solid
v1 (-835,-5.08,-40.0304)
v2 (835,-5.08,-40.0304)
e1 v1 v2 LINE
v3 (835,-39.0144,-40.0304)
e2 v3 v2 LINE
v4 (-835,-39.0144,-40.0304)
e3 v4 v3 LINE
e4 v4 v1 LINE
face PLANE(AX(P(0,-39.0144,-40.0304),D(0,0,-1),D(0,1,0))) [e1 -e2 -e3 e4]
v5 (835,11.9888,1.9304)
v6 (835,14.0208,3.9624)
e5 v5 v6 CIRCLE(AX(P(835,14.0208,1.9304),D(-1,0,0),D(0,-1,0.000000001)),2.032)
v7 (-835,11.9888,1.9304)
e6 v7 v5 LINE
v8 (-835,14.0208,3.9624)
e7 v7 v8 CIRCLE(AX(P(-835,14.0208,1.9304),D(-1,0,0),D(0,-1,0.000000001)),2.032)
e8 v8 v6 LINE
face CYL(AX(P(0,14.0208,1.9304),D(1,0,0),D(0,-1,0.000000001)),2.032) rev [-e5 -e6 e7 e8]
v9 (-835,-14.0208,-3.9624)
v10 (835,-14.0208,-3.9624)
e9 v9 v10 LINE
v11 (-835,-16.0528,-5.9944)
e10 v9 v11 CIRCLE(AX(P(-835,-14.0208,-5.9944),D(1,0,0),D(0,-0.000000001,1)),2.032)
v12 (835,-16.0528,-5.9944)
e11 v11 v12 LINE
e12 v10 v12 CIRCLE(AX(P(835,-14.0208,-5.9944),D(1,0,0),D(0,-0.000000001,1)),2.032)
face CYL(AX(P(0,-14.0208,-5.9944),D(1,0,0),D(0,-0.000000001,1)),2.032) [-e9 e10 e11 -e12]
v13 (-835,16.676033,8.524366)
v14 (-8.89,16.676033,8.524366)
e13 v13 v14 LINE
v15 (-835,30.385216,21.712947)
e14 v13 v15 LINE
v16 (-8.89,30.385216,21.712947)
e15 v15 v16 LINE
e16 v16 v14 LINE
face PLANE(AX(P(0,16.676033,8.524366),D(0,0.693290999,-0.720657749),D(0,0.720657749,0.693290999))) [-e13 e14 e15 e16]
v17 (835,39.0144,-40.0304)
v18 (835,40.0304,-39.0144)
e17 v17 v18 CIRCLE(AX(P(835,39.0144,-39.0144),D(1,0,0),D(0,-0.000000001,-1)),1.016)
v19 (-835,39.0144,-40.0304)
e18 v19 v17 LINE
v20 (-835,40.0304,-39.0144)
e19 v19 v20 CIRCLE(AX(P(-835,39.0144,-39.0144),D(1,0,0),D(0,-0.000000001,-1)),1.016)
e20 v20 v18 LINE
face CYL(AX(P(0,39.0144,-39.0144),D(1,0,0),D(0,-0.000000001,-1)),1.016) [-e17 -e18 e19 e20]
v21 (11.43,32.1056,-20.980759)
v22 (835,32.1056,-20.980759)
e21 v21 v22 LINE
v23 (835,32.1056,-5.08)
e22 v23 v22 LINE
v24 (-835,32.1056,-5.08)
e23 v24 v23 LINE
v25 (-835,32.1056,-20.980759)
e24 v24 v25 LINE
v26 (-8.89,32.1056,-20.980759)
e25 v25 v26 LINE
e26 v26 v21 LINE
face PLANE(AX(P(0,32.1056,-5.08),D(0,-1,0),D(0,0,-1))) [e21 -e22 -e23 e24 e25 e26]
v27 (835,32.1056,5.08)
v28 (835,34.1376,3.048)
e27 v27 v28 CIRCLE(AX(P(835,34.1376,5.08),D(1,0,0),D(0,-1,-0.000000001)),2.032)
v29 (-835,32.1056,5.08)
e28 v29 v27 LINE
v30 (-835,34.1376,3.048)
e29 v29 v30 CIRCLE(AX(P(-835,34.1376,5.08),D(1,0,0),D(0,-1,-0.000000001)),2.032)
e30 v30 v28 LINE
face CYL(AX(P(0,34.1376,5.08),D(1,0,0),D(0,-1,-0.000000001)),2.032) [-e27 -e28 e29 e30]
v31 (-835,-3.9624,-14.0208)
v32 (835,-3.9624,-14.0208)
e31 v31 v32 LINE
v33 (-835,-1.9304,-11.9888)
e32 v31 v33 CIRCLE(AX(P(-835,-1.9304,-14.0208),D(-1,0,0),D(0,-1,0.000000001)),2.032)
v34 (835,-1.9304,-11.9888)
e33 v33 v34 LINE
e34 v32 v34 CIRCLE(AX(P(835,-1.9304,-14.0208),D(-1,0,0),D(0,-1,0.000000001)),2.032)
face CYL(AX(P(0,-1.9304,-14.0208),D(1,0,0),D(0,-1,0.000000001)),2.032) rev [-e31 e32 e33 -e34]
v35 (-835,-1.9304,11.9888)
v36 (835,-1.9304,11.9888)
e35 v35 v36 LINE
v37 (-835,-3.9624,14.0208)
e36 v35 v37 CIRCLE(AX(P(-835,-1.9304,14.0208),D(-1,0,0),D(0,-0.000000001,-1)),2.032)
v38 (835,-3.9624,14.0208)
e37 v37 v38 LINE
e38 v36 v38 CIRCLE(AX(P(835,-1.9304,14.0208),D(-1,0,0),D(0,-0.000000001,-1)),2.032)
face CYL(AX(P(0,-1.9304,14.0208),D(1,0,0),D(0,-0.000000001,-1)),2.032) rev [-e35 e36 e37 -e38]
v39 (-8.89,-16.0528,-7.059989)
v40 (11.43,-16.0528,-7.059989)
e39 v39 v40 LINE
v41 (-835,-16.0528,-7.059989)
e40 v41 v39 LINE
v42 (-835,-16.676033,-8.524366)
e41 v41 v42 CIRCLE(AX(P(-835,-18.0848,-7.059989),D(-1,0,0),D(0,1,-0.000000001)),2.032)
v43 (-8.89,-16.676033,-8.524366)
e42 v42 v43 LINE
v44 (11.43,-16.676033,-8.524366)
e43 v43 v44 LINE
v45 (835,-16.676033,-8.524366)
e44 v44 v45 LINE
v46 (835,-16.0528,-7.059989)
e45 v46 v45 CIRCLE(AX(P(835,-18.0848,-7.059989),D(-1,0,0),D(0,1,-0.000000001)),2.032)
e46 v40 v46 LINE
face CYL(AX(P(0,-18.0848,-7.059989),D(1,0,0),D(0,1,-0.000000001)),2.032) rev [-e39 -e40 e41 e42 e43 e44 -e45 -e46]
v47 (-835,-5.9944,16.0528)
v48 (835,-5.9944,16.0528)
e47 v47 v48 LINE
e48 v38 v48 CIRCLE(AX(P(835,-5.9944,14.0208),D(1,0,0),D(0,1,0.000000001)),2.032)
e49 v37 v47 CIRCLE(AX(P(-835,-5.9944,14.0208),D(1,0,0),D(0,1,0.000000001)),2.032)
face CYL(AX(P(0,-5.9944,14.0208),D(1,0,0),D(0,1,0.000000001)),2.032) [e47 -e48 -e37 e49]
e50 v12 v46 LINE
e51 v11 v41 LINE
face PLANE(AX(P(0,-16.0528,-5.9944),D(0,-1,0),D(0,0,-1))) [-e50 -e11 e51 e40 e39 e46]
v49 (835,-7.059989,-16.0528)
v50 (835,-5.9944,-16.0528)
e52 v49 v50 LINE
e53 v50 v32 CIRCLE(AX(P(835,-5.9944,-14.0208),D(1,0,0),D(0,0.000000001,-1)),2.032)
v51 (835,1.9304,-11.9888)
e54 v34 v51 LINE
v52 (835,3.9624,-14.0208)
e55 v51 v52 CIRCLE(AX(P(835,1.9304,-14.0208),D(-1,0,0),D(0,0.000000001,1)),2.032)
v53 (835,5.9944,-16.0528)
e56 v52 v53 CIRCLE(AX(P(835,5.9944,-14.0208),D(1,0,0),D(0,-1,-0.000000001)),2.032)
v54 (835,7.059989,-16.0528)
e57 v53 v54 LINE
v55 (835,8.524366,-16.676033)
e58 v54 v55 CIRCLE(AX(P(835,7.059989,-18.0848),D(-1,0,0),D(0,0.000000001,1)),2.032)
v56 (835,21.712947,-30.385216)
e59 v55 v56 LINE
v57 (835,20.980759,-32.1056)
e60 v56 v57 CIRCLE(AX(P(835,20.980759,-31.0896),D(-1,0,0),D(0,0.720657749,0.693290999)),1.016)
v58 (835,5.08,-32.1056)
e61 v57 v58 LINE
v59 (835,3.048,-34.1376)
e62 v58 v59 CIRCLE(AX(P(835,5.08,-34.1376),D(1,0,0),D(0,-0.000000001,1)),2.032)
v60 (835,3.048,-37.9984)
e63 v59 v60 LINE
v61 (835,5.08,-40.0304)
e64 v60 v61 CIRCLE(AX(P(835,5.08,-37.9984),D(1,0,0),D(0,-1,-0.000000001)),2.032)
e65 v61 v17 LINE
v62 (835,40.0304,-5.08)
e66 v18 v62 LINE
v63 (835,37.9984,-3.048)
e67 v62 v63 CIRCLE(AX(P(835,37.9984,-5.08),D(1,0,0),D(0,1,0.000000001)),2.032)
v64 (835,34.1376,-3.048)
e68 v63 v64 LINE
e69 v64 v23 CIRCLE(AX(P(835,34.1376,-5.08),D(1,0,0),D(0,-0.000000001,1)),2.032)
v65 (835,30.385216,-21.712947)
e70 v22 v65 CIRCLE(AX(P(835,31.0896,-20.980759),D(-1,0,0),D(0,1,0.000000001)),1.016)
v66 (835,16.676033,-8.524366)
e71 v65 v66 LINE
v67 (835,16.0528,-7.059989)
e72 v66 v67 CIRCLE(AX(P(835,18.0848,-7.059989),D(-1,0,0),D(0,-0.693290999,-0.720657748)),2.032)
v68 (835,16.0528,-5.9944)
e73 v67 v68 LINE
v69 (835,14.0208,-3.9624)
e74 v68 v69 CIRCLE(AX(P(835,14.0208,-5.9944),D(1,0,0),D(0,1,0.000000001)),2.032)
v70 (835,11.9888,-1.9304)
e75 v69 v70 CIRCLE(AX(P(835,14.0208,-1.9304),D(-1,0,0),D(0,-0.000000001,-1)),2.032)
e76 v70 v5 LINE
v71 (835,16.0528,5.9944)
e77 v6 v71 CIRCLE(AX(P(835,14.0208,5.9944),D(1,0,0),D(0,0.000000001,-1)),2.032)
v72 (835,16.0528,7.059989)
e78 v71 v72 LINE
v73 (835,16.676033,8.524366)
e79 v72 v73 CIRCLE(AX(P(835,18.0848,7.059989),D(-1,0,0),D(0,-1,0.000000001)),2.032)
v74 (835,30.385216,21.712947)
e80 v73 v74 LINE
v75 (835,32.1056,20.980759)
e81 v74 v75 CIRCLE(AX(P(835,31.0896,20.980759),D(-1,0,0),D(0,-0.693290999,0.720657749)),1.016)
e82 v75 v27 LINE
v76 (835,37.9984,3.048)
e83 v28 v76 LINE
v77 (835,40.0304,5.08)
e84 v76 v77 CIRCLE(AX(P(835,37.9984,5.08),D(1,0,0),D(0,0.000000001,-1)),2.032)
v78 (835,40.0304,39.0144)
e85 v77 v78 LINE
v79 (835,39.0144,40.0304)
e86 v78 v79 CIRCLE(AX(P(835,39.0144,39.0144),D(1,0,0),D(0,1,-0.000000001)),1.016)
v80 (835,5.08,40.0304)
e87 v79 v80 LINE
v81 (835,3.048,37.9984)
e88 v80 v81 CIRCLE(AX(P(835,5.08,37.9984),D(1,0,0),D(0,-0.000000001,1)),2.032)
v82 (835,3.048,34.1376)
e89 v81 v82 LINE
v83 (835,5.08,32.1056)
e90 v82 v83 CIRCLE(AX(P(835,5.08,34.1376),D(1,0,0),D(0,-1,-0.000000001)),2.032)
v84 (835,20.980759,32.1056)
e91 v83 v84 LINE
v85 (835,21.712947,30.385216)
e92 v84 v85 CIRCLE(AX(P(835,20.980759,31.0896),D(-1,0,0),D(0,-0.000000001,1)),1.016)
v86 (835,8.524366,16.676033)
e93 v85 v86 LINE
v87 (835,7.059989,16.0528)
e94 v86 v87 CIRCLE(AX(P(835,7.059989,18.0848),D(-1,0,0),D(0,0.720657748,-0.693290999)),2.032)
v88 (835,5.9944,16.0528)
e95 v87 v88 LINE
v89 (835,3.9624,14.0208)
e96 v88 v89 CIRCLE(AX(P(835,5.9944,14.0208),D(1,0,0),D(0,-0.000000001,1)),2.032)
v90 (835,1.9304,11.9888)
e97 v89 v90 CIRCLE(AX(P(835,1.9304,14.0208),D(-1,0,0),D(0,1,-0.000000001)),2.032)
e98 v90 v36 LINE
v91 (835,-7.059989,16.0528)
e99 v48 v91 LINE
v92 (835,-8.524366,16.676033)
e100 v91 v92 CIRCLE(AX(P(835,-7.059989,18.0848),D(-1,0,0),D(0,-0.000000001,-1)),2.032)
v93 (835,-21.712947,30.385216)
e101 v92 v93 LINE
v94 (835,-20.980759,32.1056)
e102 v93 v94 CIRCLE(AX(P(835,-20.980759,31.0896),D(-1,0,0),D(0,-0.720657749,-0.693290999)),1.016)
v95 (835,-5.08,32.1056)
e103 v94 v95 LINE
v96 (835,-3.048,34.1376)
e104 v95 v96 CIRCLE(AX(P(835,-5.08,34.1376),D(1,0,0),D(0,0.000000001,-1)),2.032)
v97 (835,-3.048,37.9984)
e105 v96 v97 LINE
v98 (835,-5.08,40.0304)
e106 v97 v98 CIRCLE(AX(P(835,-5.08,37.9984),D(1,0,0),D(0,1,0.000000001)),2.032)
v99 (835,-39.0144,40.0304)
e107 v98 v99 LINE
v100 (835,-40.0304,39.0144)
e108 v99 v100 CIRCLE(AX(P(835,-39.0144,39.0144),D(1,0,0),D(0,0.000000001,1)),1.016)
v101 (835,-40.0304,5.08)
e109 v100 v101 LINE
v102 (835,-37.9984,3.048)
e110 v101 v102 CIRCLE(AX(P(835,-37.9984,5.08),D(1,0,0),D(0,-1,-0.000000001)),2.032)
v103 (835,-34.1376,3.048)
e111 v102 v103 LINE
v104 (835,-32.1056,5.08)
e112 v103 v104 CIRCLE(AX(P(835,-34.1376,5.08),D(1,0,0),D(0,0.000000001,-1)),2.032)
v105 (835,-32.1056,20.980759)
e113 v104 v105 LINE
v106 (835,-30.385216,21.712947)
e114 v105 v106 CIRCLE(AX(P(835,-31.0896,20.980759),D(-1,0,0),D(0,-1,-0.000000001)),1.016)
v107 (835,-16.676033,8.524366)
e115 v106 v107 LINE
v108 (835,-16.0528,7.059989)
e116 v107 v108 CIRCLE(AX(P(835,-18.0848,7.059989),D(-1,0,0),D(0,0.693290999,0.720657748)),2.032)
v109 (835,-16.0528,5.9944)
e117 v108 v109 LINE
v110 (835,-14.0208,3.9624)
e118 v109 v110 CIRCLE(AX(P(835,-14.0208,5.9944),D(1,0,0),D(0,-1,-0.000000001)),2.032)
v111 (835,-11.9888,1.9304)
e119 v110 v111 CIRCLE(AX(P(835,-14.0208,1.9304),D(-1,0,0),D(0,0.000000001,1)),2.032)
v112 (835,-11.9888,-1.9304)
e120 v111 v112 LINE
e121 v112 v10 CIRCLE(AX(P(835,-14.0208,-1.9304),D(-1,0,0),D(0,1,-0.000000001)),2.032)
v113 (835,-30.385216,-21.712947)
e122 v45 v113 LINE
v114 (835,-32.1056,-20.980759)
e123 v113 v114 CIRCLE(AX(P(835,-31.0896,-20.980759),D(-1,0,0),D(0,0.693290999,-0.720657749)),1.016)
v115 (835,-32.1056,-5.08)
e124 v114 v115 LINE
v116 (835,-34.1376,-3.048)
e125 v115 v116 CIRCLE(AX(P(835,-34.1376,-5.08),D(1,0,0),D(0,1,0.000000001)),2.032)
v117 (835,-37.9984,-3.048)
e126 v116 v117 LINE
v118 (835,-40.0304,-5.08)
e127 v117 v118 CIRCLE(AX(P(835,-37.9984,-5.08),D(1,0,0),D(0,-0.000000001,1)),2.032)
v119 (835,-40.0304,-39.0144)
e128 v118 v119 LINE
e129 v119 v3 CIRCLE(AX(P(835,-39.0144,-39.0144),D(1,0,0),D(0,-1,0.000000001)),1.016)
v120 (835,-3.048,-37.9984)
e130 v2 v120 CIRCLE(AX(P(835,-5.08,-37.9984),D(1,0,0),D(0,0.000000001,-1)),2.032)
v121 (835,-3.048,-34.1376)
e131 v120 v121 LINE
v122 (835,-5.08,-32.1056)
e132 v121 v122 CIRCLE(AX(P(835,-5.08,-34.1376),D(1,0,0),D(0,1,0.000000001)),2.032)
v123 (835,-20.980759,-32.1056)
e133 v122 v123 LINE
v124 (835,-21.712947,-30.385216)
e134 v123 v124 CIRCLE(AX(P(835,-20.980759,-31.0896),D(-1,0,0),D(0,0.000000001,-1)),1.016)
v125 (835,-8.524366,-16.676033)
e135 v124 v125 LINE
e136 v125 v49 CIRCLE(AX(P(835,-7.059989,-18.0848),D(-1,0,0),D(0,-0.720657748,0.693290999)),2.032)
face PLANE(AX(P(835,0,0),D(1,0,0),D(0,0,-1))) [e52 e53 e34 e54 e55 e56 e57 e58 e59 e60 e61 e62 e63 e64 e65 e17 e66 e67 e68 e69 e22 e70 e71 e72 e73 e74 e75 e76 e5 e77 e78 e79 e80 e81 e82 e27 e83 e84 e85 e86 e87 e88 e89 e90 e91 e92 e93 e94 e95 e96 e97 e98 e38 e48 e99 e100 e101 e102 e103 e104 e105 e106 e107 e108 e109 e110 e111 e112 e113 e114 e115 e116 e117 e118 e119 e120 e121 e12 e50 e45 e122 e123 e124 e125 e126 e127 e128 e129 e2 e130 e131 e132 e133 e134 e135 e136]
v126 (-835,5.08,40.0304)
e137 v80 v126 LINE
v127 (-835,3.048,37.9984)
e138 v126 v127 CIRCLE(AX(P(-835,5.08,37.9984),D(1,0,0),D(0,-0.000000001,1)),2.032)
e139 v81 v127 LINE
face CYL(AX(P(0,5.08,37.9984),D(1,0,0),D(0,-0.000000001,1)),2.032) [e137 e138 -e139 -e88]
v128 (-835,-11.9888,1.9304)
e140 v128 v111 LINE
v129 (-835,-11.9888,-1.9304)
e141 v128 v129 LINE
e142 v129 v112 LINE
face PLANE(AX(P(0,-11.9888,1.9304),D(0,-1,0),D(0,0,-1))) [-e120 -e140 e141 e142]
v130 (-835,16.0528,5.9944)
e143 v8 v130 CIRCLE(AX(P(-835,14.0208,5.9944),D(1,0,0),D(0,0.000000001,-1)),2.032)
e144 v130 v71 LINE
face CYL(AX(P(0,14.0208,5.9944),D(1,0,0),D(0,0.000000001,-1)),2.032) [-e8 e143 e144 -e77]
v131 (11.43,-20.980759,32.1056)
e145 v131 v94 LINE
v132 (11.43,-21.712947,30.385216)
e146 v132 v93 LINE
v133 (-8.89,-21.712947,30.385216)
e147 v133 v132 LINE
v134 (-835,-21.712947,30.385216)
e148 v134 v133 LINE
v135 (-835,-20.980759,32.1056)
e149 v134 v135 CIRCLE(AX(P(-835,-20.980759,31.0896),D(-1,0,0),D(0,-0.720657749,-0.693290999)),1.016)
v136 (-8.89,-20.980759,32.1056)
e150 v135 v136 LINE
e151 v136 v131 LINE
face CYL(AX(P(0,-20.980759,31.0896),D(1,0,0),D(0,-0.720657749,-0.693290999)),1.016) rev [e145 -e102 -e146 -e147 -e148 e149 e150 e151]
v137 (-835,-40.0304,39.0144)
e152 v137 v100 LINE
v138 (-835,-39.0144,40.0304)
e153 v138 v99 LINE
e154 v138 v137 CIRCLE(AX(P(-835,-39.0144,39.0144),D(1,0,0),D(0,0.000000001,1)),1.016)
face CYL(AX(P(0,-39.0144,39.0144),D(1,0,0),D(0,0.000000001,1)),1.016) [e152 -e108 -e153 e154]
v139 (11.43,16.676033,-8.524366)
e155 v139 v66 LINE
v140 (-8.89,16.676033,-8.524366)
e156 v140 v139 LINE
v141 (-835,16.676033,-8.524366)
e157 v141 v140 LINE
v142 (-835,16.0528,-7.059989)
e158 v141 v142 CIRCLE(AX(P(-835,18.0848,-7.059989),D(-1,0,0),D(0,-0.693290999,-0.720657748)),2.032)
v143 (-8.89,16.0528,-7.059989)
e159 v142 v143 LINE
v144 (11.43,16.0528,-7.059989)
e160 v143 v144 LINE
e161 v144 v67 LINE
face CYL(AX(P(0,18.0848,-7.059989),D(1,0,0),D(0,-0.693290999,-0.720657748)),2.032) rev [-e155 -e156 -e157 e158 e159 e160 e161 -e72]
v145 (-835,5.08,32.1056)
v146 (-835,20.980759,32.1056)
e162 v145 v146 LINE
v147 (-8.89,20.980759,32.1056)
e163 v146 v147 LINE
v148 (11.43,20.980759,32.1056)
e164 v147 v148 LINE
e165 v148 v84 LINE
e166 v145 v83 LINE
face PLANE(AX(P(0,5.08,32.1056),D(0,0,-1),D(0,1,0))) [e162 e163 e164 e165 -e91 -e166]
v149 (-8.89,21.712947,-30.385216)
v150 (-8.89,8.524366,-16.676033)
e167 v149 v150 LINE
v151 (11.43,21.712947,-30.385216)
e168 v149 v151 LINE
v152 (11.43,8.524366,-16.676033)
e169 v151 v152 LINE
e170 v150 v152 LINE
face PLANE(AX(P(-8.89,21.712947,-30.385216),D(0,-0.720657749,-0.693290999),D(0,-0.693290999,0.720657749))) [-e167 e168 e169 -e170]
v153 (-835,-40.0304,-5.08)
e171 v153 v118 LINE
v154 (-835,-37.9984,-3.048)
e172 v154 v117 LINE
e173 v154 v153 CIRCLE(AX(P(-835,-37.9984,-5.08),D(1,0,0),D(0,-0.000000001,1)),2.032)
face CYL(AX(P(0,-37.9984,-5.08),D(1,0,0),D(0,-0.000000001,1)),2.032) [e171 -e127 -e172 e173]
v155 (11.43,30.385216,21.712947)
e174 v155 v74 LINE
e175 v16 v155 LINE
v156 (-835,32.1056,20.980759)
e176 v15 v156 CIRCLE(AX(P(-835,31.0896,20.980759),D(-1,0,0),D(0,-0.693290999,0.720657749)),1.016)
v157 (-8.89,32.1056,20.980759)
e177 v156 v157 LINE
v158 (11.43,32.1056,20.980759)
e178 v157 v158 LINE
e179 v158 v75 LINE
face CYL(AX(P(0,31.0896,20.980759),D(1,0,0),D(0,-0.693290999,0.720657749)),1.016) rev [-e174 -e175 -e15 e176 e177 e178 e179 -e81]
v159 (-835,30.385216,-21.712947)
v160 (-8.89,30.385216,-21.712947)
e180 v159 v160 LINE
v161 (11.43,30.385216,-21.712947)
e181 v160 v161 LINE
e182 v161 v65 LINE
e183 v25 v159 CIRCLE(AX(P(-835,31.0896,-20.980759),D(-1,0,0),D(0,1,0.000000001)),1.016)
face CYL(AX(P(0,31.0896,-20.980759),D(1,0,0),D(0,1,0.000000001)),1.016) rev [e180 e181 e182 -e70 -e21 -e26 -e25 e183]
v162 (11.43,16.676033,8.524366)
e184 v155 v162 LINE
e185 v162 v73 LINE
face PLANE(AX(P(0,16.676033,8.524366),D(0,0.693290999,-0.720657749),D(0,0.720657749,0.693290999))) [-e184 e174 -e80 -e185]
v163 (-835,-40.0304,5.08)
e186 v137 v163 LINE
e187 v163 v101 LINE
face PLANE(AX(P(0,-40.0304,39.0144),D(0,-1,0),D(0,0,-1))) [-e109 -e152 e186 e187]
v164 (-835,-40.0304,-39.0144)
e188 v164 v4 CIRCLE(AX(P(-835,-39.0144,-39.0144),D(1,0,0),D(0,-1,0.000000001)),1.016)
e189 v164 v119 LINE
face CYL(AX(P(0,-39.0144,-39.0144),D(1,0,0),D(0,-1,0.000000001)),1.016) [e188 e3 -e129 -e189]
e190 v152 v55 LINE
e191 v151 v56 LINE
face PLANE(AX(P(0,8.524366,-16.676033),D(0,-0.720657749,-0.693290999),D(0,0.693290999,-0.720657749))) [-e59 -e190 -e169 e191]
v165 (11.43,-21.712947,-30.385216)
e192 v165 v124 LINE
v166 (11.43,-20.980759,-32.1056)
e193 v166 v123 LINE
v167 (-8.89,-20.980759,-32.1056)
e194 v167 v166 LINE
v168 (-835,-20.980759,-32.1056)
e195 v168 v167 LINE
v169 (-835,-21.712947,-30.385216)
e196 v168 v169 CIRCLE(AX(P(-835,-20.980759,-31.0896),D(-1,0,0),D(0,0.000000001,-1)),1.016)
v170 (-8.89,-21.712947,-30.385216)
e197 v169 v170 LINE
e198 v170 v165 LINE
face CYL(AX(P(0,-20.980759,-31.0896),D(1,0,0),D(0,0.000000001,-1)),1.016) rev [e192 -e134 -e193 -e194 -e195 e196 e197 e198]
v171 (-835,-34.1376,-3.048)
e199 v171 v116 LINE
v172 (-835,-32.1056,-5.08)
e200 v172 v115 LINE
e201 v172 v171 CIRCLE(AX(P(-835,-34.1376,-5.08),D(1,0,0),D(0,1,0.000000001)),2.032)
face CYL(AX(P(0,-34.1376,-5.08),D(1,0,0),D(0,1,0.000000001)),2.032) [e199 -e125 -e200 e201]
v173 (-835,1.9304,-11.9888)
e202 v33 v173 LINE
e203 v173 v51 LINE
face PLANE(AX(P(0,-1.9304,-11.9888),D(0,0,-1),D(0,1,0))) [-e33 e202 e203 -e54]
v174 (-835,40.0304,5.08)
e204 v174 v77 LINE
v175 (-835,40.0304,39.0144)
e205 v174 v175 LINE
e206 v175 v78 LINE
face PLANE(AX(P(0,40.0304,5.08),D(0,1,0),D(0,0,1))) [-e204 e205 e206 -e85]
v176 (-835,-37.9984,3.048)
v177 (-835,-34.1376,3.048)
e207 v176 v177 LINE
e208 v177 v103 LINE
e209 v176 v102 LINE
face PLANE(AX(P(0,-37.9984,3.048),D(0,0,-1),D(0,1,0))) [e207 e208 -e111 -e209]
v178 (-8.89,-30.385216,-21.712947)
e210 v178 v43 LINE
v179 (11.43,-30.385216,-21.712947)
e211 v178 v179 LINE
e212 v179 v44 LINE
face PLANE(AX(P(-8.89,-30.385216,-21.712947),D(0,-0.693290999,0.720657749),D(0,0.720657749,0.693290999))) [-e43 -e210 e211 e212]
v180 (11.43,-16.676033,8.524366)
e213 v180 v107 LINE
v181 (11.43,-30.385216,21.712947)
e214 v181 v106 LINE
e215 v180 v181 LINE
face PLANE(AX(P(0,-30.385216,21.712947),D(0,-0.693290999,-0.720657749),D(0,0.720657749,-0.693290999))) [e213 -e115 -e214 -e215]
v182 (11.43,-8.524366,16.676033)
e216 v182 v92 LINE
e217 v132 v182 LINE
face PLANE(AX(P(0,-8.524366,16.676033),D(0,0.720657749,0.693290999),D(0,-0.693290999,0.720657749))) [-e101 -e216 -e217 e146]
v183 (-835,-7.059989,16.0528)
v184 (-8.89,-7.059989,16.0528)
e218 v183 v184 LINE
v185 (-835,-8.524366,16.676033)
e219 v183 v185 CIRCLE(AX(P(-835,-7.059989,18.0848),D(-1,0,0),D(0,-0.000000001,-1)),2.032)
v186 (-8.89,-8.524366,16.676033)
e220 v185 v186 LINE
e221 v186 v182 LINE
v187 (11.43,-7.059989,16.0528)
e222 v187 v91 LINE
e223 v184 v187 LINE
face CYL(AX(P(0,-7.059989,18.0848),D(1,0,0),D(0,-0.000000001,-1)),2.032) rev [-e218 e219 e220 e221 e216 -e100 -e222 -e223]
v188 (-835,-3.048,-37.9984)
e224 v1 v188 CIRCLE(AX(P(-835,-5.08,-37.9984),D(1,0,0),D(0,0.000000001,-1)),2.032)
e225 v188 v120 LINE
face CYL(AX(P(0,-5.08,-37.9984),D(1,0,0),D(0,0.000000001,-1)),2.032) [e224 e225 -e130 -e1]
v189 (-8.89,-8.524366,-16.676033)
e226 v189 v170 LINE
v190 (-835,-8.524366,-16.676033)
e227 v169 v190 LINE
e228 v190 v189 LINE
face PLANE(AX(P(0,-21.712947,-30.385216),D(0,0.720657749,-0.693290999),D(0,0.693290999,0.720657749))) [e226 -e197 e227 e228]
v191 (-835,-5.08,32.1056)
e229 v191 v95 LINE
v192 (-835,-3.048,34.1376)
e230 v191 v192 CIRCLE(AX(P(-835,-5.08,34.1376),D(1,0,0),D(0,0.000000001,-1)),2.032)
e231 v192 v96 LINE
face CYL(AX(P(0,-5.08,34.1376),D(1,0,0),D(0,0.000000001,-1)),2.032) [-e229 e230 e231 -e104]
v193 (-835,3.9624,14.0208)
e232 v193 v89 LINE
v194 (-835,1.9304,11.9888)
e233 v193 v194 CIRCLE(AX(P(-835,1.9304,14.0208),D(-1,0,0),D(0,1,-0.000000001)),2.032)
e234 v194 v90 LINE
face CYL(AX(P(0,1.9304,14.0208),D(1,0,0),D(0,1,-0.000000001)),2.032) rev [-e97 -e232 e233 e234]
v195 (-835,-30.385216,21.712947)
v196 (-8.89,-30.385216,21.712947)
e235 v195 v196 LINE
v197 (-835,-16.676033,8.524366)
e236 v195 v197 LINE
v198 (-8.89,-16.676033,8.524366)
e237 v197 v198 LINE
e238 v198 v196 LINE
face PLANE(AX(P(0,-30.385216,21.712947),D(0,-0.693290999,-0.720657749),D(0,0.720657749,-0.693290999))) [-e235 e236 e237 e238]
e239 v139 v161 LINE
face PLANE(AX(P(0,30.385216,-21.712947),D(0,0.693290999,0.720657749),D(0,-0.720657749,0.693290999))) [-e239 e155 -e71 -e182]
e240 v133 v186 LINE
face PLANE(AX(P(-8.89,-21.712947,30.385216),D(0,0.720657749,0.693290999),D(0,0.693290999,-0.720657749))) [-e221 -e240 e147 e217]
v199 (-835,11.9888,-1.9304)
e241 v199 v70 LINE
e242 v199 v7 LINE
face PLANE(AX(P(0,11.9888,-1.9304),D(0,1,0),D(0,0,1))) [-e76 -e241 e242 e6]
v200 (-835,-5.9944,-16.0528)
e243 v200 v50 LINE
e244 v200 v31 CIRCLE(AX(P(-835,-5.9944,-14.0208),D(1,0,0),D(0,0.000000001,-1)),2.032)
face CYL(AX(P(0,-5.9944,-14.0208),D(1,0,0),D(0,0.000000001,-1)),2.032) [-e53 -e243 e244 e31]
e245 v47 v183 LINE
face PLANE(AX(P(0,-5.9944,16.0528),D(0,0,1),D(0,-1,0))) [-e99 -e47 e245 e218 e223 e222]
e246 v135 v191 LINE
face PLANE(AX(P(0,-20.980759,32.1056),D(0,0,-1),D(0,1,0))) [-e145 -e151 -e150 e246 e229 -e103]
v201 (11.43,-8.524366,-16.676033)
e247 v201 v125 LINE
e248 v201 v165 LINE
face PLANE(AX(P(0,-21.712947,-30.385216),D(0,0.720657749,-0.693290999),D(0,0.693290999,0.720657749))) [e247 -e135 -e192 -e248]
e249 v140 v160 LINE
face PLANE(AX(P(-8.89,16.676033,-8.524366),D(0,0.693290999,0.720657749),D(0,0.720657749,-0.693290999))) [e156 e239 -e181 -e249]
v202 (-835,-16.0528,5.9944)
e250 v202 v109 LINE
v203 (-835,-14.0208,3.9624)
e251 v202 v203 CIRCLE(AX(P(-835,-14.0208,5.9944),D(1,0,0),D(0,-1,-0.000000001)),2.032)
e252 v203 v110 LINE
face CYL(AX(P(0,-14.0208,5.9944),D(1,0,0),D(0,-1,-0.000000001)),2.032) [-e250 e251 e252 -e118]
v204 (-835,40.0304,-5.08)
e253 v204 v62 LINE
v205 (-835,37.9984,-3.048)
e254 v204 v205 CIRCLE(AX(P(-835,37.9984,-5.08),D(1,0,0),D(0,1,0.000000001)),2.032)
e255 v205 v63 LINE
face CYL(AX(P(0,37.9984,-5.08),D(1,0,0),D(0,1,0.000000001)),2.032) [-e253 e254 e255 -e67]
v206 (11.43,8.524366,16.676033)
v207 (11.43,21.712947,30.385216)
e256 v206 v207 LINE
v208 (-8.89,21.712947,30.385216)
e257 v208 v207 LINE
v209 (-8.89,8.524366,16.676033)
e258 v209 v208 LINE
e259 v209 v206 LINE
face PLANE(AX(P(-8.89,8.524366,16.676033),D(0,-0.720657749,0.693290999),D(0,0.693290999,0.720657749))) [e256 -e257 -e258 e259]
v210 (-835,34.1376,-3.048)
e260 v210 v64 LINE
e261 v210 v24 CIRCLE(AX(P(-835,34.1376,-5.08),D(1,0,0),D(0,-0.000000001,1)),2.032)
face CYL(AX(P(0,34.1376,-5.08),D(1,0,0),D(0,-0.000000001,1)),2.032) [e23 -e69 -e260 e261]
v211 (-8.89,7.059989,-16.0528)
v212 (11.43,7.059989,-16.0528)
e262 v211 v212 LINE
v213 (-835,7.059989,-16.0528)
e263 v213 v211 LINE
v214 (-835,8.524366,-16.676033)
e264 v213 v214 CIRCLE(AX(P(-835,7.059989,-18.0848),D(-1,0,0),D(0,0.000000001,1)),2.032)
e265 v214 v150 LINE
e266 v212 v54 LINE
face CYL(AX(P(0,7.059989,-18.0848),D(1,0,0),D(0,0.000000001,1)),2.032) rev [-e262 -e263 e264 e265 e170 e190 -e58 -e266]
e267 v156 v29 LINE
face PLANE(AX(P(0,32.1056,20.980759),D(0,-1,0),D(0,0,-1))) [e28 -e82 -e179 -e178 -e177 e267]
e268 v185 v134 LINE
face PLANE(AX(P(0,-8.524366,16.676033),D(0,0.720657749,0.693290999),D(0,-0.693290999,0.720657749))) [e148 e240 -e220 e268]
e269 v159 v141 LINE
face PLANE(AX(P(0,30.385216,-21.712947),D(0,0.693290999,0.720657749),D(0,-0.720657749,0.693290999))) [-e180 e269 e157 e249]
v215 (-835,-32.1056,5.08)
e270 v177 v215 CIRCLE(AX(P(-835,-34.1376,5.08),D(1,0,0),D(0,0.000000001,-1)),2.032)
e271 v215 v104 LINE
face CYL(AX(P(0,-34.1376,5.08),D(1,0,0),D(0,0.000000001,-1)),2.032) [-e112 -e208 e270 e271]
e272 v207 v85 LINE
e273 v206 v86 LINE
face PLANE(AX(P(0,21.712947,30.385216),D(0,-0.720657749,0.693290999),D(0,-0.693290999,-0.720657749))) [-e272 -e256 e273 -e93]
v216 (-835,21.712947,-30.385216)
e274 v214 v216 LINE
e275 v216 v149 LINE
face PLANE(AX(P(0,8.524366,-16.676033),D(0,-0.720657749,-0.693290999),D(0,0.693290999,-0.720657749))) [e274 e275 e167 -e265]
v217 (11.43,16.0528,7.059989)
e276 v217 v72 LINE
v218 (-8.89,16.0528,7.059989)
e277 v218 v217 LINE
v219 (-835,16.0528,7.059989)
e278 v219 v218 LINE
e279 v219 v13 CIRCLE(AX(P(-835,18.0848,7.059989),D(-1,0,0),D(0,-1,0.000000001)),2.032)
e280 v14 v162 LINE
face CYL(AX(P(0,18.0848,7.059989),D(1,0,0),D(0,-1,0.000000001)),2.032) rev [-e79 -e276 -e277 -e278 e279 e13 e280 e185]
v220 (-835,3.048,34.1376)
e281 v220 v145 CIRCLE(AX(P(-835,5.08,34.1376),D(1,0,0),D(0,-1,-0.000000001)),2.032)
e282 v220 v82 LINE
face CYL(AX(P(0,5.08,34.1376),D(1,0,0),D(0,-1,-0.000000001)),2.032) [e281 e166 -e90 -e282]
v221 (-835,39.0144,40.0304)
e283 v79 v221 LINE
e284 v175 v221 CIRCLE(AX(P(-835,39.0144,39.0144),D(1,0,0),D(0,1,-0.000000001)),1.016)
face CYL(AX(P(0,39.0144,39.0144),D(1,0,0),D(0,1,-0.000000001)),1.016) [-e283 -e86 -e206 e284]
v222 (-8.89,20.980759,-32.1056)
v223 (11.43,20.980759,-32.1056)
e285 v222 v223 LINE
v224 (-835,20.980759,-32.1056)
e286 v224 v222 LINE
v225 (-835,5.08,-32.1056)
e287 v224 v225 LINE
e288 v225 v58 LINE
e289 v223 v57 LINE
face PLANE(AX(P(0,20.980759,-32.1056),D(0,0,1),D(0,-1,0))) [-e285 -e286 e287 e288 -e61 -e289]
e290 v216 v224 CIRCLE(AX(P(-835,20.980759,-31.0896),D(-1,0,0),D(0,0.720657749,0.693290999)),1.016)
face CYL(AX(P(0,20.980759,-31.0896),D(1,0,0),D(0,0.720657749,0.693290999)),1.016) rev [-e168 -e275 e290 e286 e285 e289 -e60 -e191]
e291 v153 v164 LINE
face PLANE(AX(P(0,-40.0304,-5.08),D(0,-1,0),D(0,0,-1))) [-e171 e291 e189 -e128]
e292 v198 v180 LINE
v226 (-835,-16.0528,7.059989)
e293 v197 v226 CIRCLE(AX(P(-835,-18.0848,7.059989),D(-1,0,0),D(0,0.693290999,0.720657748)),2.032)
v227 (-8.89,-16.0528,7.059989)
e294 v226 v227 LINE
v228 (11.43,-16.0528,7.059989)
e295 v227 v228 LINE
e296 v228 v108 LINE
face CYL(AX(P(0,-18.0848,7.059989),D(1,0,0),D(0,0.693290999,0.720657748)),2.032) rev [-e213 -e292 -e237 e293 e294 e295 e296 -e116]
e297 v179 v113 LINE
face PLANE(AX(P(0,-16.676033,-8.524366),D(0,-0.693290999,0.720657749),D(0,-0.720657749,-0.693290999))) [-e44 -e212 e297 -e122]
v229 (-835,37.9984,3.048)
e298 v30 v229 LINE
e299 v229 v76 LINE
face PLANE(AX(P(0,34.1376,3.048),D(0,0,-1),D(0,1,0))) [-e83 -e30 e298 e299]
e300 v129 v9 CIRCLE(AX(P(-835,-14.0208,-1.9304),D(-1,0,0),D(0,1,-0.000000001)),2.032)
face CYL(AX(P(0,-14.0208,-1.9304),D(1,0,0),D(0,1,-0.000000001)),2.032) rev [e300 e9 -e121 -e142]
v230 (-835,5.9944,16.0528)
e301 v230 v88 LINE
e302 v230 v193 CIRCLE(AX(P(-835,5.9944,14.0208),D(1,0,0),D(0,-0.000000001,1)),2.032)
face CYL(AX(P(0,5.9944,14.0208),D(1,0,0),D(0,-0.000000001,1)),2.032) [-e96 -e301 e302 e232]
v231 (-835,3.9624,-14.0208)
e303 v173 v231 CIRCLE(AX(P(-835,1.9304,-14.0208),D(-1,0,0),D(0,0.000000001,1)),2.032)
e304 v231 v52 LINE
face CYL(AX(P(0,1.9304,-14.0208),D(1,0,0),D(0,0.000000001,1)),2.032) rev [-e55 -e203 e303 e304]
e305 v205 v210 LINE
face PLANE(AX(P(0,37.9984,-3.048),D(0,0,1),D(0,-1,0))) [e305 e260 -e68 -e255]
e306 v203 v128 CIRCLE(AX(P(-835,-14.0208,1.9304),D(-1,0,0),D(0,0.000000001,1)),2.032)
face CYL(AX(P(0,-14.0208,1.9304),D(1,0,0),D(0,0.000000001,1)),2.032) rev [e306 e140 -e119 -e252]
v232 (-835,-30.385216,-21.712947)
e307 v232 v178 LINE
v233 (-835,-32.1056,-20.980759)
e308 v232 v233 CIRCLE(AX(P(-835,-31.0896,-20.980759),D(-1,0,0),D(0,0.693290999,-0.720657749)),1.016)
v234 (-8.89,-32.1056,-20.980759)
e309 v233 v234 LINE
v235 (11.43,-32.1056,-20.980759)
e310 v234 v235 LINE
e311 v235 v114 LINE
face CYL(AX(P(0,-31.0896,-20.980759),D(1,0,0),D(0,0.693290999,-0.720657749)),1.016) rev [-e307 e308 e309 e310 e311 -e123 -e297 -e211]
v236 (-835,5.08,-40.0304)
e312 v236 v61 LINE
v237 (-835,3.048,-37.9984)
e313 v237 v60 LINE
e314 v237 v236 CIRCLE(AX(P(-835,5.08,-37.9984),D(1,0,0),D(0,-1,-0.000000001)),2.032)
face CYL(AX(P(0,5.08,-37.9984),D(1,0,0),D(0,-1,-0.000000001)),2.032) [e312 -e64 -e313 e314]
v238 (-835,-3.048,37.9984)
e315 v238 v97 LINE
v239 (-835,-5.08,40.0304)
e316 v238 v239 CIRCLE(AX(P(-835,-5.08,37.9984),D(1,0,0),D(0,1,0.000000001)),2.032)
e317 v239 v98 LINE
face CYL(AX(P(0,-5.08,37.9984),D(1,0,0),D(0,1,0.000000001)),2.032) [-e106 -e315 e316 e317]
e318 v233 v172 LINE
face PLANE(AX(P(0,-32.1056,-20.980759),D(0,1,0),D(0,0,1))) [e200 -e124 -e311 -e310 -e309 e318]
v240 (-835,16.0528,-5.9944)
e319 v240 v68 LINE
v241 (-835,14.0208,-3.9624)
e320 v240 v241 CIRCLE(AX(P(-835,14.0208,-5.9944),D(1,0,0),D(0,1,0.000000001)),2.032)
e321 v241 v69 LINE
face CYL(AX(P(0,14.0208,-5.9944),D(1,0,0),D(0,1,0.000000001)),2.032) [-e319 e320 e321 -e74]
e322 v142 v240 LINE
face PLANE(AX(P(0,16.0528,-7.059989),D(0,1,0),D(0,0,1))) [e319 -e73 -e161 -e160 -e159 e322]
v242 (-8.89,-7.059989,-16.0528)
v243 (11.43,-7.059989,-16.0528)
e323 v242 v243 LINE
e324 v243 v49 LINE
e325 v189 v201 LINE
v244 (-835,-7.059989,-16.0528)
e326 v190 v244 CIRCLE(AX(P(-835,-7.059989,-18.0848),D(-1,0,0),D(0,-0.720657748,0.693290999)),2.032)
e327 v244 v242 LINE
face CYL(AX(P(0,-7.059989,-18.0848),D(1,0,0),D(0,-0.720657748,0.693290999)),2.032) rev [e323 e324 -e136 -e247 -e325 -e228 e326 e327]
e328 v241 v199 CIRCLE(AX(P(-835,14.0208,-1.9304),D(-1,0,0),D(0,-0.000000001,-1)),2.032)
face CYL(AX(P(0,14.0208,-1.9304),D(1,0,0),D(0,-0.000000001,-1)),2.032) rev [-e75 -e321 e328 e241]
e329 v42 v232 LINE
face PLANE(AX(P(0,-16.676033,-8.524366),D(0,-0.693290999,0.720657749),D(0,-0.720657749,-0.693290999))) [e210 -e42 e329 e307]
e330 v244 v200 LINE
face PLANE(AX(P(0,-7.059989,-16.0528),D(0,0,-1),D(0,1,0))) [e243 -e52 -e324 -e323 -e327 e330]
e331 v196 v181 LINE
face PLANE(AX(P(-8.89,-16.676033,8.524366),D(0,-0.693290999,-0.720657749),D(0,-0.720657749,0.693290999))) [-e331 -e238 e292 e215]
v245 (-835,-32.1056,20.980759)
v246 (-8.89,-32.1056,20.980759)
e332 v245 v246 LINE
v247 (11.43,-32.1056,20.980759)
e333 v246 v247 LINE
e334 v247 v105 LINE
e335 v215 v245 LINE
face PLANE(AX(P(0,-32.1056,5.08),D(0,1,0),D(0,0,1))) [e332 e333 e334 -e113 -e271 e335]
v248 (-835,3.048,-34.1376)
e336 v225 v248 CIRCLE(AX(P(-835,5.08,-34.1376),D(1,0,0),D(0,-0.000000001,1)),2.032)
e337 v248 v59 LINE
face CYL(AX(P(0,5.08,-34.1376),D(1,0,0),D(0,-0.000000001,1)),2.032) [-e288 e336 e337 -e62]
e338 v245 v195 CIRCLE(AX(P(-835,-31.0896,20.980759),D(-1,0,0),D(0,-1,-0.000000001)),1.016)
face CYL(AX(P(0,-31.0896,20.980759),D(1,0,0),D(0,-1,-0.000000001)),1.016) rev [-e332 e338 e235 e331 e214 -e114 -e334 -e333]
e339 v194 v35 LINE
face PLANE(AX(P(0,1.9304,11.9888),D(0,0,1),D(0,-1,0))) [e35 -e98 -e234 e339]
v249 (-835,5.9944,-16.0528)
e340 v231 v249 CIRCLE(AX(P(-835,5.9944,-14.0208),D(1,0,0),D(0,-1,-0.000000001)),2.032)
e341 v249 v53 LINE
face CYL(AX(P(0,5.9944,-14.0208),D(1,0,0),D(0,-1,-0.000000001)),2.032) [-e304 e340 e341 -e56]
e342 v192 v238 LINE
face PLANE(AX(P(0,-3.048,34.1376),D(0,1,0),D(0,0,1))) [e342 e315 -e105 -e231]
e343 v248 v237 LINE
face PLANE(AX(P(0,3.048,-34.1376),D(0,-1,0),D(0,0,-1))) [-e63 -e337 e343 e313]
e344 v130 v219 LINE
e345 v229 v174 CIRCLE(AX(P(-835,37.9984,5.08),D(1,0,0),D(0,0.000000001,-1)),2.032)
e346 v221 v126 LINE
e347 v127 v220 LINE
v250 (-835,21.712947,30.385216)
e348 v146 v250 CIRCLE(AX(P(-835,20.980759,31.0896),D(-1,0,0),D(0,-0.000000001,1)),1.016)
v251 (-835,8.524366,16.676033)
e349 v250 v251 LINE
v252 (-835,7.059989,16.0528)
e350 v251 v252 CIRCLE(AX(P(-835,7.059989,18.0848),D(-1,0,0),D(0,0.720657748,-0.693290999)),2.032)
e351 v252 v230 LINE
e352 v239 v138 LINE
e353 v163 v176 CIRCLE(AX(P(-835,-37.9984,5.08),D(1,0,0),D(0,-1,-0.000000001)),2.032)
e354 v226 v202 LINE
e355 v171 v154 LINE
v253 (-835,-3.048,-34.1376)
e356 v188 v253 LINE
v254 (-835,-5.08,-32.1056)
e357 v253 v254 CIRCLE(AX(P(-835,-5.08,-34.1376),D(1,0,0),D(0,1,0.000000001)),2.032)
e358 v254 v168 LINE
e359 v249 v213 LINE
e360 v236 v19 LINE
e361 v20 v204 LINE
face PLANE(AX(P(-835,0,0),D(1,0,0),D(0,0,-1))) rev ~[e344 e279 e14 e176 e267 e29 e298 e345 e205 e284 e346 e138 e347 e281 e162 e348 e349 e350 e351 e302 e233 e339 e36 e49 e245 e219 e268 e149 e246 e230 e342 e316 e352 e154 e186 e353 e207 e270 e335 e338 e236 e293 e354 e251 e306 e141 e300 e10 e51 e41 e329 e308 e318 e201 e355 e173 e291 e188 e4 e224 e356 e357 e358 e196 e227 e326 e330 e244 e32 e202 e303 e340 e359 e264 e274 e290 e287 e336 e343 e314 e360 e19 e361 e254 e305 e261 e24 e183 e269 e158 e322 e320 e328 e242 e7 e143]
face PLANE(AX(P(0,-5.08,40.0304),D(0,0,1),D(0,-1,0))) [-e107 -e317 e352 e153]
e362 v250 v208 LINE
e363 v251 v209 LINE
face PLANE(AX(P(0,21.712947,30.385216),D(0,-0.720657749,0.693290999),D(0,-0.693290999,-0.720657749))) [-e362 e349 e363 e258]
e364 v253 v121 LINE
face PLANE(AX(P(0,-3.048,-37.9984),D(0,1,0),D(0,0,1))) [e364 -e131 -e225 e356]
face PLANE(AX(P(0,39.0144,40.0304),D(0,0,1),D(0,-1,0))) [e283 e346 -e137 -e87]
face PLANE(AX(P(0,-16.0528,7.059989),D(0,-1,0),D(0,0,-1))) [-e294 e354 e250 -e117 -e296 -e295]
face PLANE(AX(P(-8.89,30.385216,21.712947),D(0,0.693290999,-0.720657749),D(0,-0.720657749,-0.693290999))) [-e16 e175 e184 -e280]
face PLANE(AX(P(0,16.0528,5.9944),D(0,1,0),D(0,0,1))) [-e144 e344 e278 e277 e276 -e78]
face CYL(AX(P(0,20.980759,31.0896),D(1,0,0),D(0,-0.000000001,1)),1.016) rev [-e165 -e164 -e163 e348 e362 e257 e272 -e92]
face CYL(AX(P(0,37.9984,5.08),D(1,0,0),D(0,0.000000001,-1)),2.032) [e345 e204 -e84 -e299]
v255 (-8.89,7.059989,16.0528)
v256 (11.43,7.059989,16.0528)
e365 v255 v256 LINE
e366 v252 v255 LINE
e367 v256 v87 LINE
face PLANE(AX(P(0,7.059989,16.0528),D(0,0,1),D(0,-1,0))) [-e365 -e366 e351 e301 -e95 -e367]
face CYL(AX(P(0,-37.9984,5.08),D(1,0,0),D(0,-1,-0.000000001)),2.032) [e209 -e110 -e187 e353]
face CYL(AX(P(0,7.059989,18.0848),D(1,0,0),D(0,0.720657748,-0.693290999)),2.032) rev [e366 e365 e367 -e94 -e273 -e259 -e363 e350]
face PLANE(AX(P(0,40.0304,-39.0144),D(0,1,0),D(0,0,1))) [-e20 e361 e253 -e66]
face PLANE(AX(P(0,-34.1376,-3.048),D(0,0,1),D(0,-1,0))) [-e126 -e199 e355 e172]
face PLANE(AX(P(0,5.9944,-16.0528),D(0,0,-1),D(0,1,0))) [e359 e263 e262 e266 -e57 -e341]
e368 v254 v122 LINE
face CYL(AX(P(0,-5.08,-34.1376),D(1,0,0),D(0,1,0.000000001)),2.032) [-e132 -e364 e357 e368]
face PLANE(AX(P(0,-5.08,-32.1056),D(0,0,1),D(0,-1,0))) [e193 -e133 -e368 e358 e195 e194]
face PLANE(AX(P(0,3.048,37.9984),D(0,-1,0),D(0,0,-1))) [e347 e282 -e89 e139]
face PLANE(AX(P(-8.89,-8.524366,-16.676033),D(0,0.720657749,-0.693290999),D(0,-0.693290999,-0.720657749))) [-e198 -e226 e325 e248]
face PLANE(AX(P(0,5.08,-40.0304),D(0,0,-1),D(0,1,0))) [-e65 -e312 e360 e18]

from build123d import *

# Parameters (mm, degrees)
BOSS_EXTRUDE1_DEPTH = 2.54
SCALE1_SCALE        = 8
BOSS_EXTRUDE2_DEPTH = 835


with BuildPart() as part:
    # Sketch1 → Boss-Extrude1 (new body)
    with BuildSketch(Plane(origin=(0, 0, 0), x_dir=(0, 0, -1), z_dir=(1, 0, 0))):
        with BuildLine():
            Line((-0.2413, 1.4986), (0.2413, 1.4986))
            ThreePointArc((0.2413, 1.4986), (0.420905122, 1.572994878), (0.4953, 1.7526))
            ThreePointArc((0.4953, 1.7526), (0.569694878, 1.932205122), (0.7493, 2.0066))
            Line((0.7493, 2.0066), (0.882498635, 2.0066))
            ThreePointArc((0.882498635, 2.0066), (0.981966313, 2.026886113), (1.065545703, 2.084504086))
            Line((1.065545703, 2.084504086), (2.714118421, 3.798152043))
            ThreePointArc((2.714118421, 3.798152043), (2.739451831, 3.935933839), (2.622594887, 4.0132))
            Line((2.622594887, 4.0132), (0.635, 4.0132))
            ThreePointArc((0.635, 4.0132), (0.455394878, 4.087594878), (0.381, 4.2672))
            Line((0.381, 4.2672), (0.381, 4.7498))
            ThreePointArc((0.381, 4.7498), (0.455394878, 4.929405122), (0.635, 5.0038))
            Line((0.635, 5.0038), (4.8768, 5.0038))
            ThreePointArc((4.8768, 5.0038), (4.966602561, 4.966602561), (5.0038, 4.8768))
            Line((5.0038, 4.8768), (5.0038, 0.635))
            ThreePointArc((5.0038, 0.635), (4.929405122, 0.455394878), (4.7498, 0.381))
            Line((4.7498, 0.381), (4.2672, 0.381))
            ThreePointArc((4.2672, 0.381), (4.087594878, 0.455394878), (4.0132, 0.635))
            Line((4.0132, 0.635), (4.0132, 2.622594887))
            ThreePointArc((4.0132, 2.622594887), (3.935933839, 2.739451831), (3.798152043, 2.714118421))
            Line((3.798152043, 2.714118421), (2.084504086, 1.065545703))
            ThreePointArc((2.084504086, 1.065545703), (2.026886113, 0.981966313), (2.0066, 0.882498635))
            Line((2.0066, 0.882498635), (2.0066, 0.7493))
            ThreePointArc((2.0066, 0.7493), (1.932205122, 0.569694878), (1.7526, 0.4953))
            ThreePointArc((1.7526, 0.4953), (1.572994878, 0.420905122), (1.4986, 0.2413))
            Line((1.4986, 0.2413), (1.4986, -0.2413))
            ThreePointArc((1.4986, -0.2413), (1.572994878, -0.420905122), (1.7526, -0.4953))
            ThreePointArc((1.7526, -0.4953), (1.932205122, -0.569694878), (2.0066, -0.7493))
            Line((2.0066, -0.7493), (2.0066, -0.882498635))
            ThreePointArc((2.0066, -0.882498635), (2.026886113, -0.981966313), (2.084504086, -1.065545703))
            Line((2.084504086, -1.065545703), (3.798152043, -2.714118421))
            ThreePointArc((3.798152043, -2.714118421), (3.935933839, -2.739451831), (4.0132, -2.622594887))
            Line((4.0132, -2.622594887), (4.0132, -0.635))
            ThreePointArc((4.0132, -0.635), (4.087594878, -0.455394878), (4.2672, -0.381))
            Line((4.2672, -0.381), (4.7498, -0.381))
            ThreePointArc((4.7498, -0.381), (4.929405122, -0.455394878), (5.0038, -0.635))
            Line((5.0038, -0.635), (5.0038, -4.8768))
            ThreePointArc((5.0038, -4.8768), (4.966602561, -4.966602561), (4.8768, -5.0038))
            Line((4.8768, -5.0038), (0.635, -5.0038))
            ThreePointArc((0.635, -5.0038), (0.455394878, -4.929405122), (0.381, -4.7498))
            Line((0.381, -4.7498), (0.381, -4.2672))
            ThreePointArc((0.381, -4.2672), (0.455394878, -4.087594878), (0.635, -4.0132))
            Line((0.635, -4.0132), (2.622594887, -4.0132))
            ThreePointArc((2.622594887, -4.0132), (2.739451831, -3.935933839), (2.714118421, -3.798152043))
            Line((2.714118421, -3.798152043), (1.065545703, -2.084504086))
            ThreePointArc((1.065545703, -2.084504086), (0.981966313, -2.026886113), (0.882498635, -2.0066))
            Line((0.882498635, -2.0066), (0.7493, -2.0066))
            ThreePointArc((0.7493, -2.0066), (0.569694878, -1.932205122), (0.4953, -1.7526))
            ThreePointArc((0.4953, -1.7526), (0.420905122, -1.572994878), (0.2413, -1.4986))
            Line((0.2413, -1.4986), (-0.2413, -1.4986))
            ThreePointArc((-0.2413, -1.4986), (-0.420905122, -1.572994878), (-0.4953, -1.7526))
            ThreePointArc((-0.4953, -1.7526), (-0.569694878, -1.932205122), (-0.7493, -2.0066))
            Line((-0.7493, -2.0066), (-0.882498635, -2.0066))
            ThreePointArc((-0.882498635, -2.0066), (-0.981966313, -2.026886113), (-1.065545703, -2.084504086))
            Line((-1.065545703, -2.084504086), (-2.714118421, -3.798152043))
            ThreePointArc((-2.714118421, -3.798152043), (-2.739451831, -3.935933839), (-2.622594887, -4.0132))
            Line((-2.622594887, -4.0132), (-0.635, -4.0132))
            ThreePointArc((-0.635, -4.0132), (-0.455394878, -4.087594878), (-0.381, -4.2672))
            Line((-0.381, -4.2672), (-0.381, -4.7498))
            ThreePointArc((-0.381, -4.7498), (-0.455394878, -4.929405122), (-0.635, -5.0038))
            Line((-0.635, -5.0038), (-4.8768, -5.0038))
            ThreePointArc((-4.8768, -5.0038), (-4.966602561, -4.966602561), (-5.0038, -4.8768))
            Line((-5.0038, -4.8768), (-5.0038, -0.635))
            ThreePointArc((-5.0038, -0.635), (-4.929405122, -0.455394878), (-4.7498, -0.381))
            Line((-4.7498, -0.381), (-4.2672, -0.381))
            ThreePointArc((-4.2672, -0.381), (-4.087594878, -0.455394878), (-4.0132, -0.635))
            Line((-4.0132, -0.635), (-4.0132, -2.622594887))
            ThreePointArc((-4.0132, -2.622594887), (-3.935933839, -2.739451831), (-3.798152043, -2.714118421))
            Line((-3.798152043, -2.714118421), (-2.084504086, -1.065545703))
            ThreePointArc((-2.084504086, -1.065545703), (-2.026886113, -0.981966313), (-2.0066, -0.882498635))
            Line((-2.0066, -0.882498635), (-2.0066, -0.7493))
            ThreePointArc((-2.0066, -0.7493), (-1.932205122, -0.569694878), (-1.7526, -0.4953))
            ThreePointArc((-1.7526, -0.4953), (-1.572994878, -0.420905122), (-1.4986, -0.2413))
            Line((-1.4986, -0.2413), (-1.4986, 0.2413))
            ThreePointArc((-1.4986, 0.2413), (-1.572994878, 0.420905122), (-1.7526, 0.4953))
            ThreePointArc((-1.7526, 0.4953), (-1.932205122, 0.569694878), (-2.0066, 0.7493))
            Line((-2.0066, 0.7493), (-2.0066, 0.882498635))
            ThreePointArc((-2.0066, 0.882498635), (-2.026886113, 0.981966313), (-2.084504086, 1.065545703))
            Line((-2.084504086, 1.065545703), (-3.798152043, 2.714118421))
            ThreePointArc((-3.798152043, 2.714118421), (-3.935933839, 2.739451831), (-4.0132, 2.622594887))
            Line((-4.0132, 2.622594887), (-4.0132, 0.635))
            ThreePointArc((-4.0132, 0.635), (-4.087594878, 0.455394878), (-4.2672, 0.381))
            Line((-4.2672, 0.381), (-4.7498, 0.381))
            ThreePointArc((-4.7498, 0.381), (-4.929405122, 0.455394878), (-5.0038, 0.635))
            Line((-5.0038, 0.635), (-5.0038, 4.8768))
            ThreePointArc((-5.0038, 4.8768), (-4.966602561, 4.966602561), (-4.8768, 5.0038))
            Line((-4.8768, 5.0038), (-0.635, 5.0038))
            ThreePointArc((-0.635, 5.0038), (-0.455394878, 4.929405122), (-0.381, 4.7498))
            Line((-0.381, 4.7498), (-0.381, 4.2672))
            ThreePointArc((-0.381, 4.2672), (-0.455394878, 4.087594878), (-0.635, 4.0132))
            Line((-0.635, 4.0132), (-2.622594887, 4.0132))
            ThreePointArc((-2.622594887, 4.0132), (-2.739451831, 3.935933839), (-2.714118421, 3.798152043))
            Line((-2.714118421, 3.798152043), (-1.065545703, 2.084504086))
            ThreePointArc((-1.065545703, 2.084504086), (-0.981966313, 2.026886113), (-0.882498635, 2.0066))
            Line((-0.882498635, 2.0066), (-0.7493, 2.0066))
            ThreePointArc((-0.7493, 2.0066), (-0.569694878, 1.932205122), (-0.4953, 1.7526))
            ThreePointArc((-0.4953, 1.7526), (-0.420905122, 1.572994878), (-0.2413, 1.4986))
        make_face()
    extrude(amount=BOSS_EXTRUDE1_DEPTH)


with BuildPart() as part_1:
    # Scale1: scaled about (1.27, 0, 0)
    add(part.part.scale(SCALE1_SCALE).moved(Location((-8.89, 0, 0))))

    # Sketch2 → Boss-Extrude2 (add, symmetric)
    with BuildSketch(Plane(origin=(0, 0, 0), x_dir=(0, 0, -1), z_dir=(1, 0, 0))):
        with BuildLine():
            Line((-37.9984, 3.048), (-34.1376, 3.048))
            ThreePointArc((-34.1376, 3.048), (-32.700759021, 3.643159021), (-32.1056, 5.08))
            Line((-32.1056, 5.08), (-32.1056, 20.980759097))
            ThreePointArc((-32.1056, 20.980759097), (-31.487470712, 21.915614646), (-30.385216345, 21.71294737))
            Line((-30.385216345, 21.71294737), (-16.67603269, 8.524365626))
            ThreePointArc((-16.67603269, 8.524365626), (-16.215088903, 7.855730504), (-16.0528, 7.059989081))
            Line((-16.0528, 7.059989081), (-16.0528, 5.9944))
            ThreePointArc((-16.0528, 5.9944), (-15.457640979, 4.557559021), (-14.0208, 3.9624))
            ThreePointArc((-14.0208, 3.9624), (-12.583959021, 3.367240979), (-11.9888, 1.9304))
            Line((-11.9888, 1.9304), (-11.9888, -1.9304))
            ThreePointArc((-11.9888, -1.9304), (-12.583959021, -3.367240979), (-14.0208, -3.9624))
            ThreePointArc((-14.0208, -3.9624), (-15.457640979, -4.557559021), (-16.0528, -5.9944))
            Line((-16.0528, -5.9944), (-16.0528, -7.059989081))
            ThreePointArc((-16.0528, -7.059989081), (-16.215088903, -7.855730504), (-16.67603269, -8.524365626))
            Line((-16.67603269, -8.524365626), (-30.385216345, -21.71294737))
            ThreePointArc((-30.385216345, -21.71294737), (-31.487470712, -21.915614646), (-32.1056, -20.980759097))
            Line((-32.1056, -20.980759097), (-32.1056, -5.08))
            ThreePointArc((-32.1056, -5.08), (-32.700759021, -3.643159021), (-34.1376, -3.048))
            Line((-34.1376, -3.048), (-37.9984, -3.048))
            ThreePointArc((-37.9984, -3.048), (-39.435240979, -3.643159021), (-40.0304, -5.08))
            Line((-40.0304, -5.08), (-40.0304, -39.0144))
            ThreePointArc((-40.0304, -39.0144), (-39.73282049, -39.73282049), (-39.0144, -40.0304))
            Line((-39.0144, -40.0304), (-5.08, -40.0304))
            ThreePointArc((-5.08, -40.0304), (-3.643159021, -39.435240979), (-3.048, -37.9984))
            Line((-3.048, -37.9984), (-3.048, -34.1376))
            ThreePointArc((-3.048, -34.1376), (-3.643159021, -32.700759021), (-5.08, -32.1056))
            Line((-5.08, -32.1056), (-20.980759097, -32.1056))
            ThreePointArc((-20.980759097, -32.1056), (-21.915614646, -31.487470712), (-21.71294737, -30.385216345))
            Line((-21.71294737, -30.385216345), (-8.524365626, -16.67603269))
            ThreePointArc((-8.524365626, -16.67603269), (-7.855730504, -16.215088903), (-7.059989081, -16.0528))
            Line((-7.059989081, -16.0528), (-5.9944, -16.0528))
            ThreePointArc((-5.9944, -16.0528), (-4.557559021, -15.457640979), (-3.9624, -14.0208))
            ThreePointArc((-3.9624, -14.0208), (-3.367240979, -12.583959021), (-1.9304, -11.9888))
            Line((-1.9304, -11.9888), (1.9304, -11.9888))
            ThreePointArc((1.9304, -11.9888), (3.367240979, -12.583959021), (3.9624, -14.0208))
            ThreePointArc((3.9624, -14.0208), (4.557559021, -15.457640979), (5.9944, -16.0528))
            Line((5.9944, -16.0528), (7.059989081, -16.0528))
            ThreePointArc((7.059989081, -16.0528), (7.855730504, -16.215088903), (8.524365626, -16.67603269))
            Line((8.524365626, -16.67603269), (21.71294737, -30.385216345))
            ThreePointArc((21.71294737, -30.385216345), (21.915614646, -31.487470712), (20.980759097, -32.1056))
            Line((20.980759097, -32.1056), (5.08, -32.1056))
            ThreePointArc((5.08, -32.1056), (3.643159021, -32.700759021), (3.048, -34.1376))
            Line((3.048, -34.1376), (3.048, -37.9984))
            ThreePointArc((3.048, -37.9984), (3.643159021, -39.435240979), (5.08, -40.0304))
            Line((5.08, -40.0304), (39.0144, -40.0304))
            ThreePointArc((39.0144, -40.0304), (39.73282049, -39.73282049), (40.0304, -39.0144))
            Line((40.0304, -39.0144), (40.0304, -5.08))
            ThreePointArc((40.0304, -5.08), (39.435240979, -3.643159021), (37.9984, -3.048))
            Line((37.9984, -3.048), (34.1376, -3.048))
            ThreePointArc((34.1376, -3.048), (32.700759021, -3.643159021), (32.1056, -5.08))
            Line((32.1056, -5.08), (32.1056, -20.980759097))
            ThreePointArc((32.1056, -20.980759097), (31.487470712, -21.915614646), (30.385216345, -21.71294737))
            Line((30.385216345, -21.71294737), (16.67603269, -8.524365626))
            ThreePointArc((16.67603269, -8.524365626), (16.215088903, -7.855730504), (16.0528, -7.059989081))
            Line((16.0528, -7.059989081), (16.0528, -5.9944))
            ThreePointArc((16.0528, -5.9944), (15.457640979, -4.557559021), (14.0208, -3.9624))
            ThreePointArc((14.0208, -3.9624), (12.583959021, -3.367240979), (11.9888, -1.9304))
            Line((11.9888, -1.9304), (11.9888, 1.9304))
            ThreePointArc((11.9888, 1.9304), (12.583959021, 3.367240979), (14.0208, 3.9624))
            ThreePointArc((14.0208, 3.9624), (15.457640979, 4.557559021), (16.0528, 5.9944))
            Line((16.0528, 5.9944), (16.0528, 7.059989081))
            ThreePointArc((16.0528, 7.059989081), (16.215088903, 7.855730504), (16.67603269, 8.524365626))
            Line((16.67603269, 8.524365626), (30.385216345, 21.71294737))
            ThreePointArc((30.385216345, 21.71294737), (31.487470712, 21.915614646), (32.1056, 20.980759097))
            Line((32.1056, 20.980759097), (32.1056, 5.08))
            ThreePointArc((32.1056, 5.08), (32.700759021, 3.643159021), (34.1376, 3.048))
            Line((34.1376, 3.048), (37.9984, 3.048))
            ThreePointArc((37.9984, 3.048), (39.435240979, 3.643159021), (40.0304, 5.08))
            Line((40.0304, 5.08), (40.0304, 39.0144))
            ThreePointArc((40.0304, 39.0144), (39.73282049, 39.73282049), (39.0144, 40.0304))
            Line((39.0144, 40.0304), (5.08, 40.0304))
            ThreePointArc((5.08, 40.0304), (3.643159021, 39.435240979), (3.048, 37.9984))
            Line((3.048, 37.9984), (3.048, 34.1376))
            ThreePointArc((3.048, 34.1376), (3.643159021, 32.700759021), (5.08, 32.1056))
            Line((5.08, 32.1056), (20.980759097, 32.1056))
            ThreePointArc((20.980759097, 32.1056), (21.915614646, 31.487470712), (21.71294737, 30.385216345))
            Line((21.71294737, 30.385216345), (8.524365626, 16.67603269))
            ThreePointArc((8.524365626, 16.67603269), (7.855730504, 16.215088903), (7.059989081, 16.0528))
            Line((7.059989081, 16.0528), (5.9944, 16.0528))
            ThreePointArc((5.9944, 16.0528), (4.557559021, 15.457640979), (3.9624, 14.0208))
            ThreePointArc((3.9624, 14.0208), (3.367240979, 12.583959021), (1.9304, 11.9888))
            Line((1.9304, 11.9888), (-1.9304, 11.9888))
            ThreePointArc((-1.9304, 11.9888), (-3.367240979, 12.583959021), (-3.9624, 14.0208))
            ThreePointArc((-3.9624, 14.0208), (-4.557559021, 15.457640979), (-5.9944, 16.0528))
            Line((-5.9944, 16.0528), (-7.059989081, 16.0528))
            ThreePointArc((-7.059989081, 16.0528), (-7.855730504, 16.215088903), (-8.524365626, 16.67603269))
            Line((-8.524365626, 16.67603269), (-21.71294737, 30.385216345))
            ThreePointArc((-21.71294737, 30.385216345), (-21.915614646, 31.487470712), (-20.980759097, 32.1056))
            Line((-20.980759097, 32.1056), (-5.08, 32.1056))
            ThreePointArc((-5.08, 32.1056), (-3.643159021, 32.700759021), (-3.048, 34.1376))
            Line((-3.048, 34.1376), (-3.048, 37.9984))
            ThreePointArc((-3.048, 37.9984), (-3.643159021, 39.435240979), (-5.08, 40.0304))
            Line((-5.08, 40.0304), (-39.0144, 40.0304))
            ThreePointArc((-39.0144, 40.0304), (-39.73282049, 39.73282049), (-40.0304, 39.0144))
            Line((-40.0304, 39.0144), (-40.0304, 5.08))
            ThreePointArc((-40.0304, 5.08), (-39.435240979, 3.643159021), (-37.9984, 3.048))
        make_face()
    extrude(amount=BOSS_EXTRUDE2_DEPTH, both=True)


solid = part_1.part
